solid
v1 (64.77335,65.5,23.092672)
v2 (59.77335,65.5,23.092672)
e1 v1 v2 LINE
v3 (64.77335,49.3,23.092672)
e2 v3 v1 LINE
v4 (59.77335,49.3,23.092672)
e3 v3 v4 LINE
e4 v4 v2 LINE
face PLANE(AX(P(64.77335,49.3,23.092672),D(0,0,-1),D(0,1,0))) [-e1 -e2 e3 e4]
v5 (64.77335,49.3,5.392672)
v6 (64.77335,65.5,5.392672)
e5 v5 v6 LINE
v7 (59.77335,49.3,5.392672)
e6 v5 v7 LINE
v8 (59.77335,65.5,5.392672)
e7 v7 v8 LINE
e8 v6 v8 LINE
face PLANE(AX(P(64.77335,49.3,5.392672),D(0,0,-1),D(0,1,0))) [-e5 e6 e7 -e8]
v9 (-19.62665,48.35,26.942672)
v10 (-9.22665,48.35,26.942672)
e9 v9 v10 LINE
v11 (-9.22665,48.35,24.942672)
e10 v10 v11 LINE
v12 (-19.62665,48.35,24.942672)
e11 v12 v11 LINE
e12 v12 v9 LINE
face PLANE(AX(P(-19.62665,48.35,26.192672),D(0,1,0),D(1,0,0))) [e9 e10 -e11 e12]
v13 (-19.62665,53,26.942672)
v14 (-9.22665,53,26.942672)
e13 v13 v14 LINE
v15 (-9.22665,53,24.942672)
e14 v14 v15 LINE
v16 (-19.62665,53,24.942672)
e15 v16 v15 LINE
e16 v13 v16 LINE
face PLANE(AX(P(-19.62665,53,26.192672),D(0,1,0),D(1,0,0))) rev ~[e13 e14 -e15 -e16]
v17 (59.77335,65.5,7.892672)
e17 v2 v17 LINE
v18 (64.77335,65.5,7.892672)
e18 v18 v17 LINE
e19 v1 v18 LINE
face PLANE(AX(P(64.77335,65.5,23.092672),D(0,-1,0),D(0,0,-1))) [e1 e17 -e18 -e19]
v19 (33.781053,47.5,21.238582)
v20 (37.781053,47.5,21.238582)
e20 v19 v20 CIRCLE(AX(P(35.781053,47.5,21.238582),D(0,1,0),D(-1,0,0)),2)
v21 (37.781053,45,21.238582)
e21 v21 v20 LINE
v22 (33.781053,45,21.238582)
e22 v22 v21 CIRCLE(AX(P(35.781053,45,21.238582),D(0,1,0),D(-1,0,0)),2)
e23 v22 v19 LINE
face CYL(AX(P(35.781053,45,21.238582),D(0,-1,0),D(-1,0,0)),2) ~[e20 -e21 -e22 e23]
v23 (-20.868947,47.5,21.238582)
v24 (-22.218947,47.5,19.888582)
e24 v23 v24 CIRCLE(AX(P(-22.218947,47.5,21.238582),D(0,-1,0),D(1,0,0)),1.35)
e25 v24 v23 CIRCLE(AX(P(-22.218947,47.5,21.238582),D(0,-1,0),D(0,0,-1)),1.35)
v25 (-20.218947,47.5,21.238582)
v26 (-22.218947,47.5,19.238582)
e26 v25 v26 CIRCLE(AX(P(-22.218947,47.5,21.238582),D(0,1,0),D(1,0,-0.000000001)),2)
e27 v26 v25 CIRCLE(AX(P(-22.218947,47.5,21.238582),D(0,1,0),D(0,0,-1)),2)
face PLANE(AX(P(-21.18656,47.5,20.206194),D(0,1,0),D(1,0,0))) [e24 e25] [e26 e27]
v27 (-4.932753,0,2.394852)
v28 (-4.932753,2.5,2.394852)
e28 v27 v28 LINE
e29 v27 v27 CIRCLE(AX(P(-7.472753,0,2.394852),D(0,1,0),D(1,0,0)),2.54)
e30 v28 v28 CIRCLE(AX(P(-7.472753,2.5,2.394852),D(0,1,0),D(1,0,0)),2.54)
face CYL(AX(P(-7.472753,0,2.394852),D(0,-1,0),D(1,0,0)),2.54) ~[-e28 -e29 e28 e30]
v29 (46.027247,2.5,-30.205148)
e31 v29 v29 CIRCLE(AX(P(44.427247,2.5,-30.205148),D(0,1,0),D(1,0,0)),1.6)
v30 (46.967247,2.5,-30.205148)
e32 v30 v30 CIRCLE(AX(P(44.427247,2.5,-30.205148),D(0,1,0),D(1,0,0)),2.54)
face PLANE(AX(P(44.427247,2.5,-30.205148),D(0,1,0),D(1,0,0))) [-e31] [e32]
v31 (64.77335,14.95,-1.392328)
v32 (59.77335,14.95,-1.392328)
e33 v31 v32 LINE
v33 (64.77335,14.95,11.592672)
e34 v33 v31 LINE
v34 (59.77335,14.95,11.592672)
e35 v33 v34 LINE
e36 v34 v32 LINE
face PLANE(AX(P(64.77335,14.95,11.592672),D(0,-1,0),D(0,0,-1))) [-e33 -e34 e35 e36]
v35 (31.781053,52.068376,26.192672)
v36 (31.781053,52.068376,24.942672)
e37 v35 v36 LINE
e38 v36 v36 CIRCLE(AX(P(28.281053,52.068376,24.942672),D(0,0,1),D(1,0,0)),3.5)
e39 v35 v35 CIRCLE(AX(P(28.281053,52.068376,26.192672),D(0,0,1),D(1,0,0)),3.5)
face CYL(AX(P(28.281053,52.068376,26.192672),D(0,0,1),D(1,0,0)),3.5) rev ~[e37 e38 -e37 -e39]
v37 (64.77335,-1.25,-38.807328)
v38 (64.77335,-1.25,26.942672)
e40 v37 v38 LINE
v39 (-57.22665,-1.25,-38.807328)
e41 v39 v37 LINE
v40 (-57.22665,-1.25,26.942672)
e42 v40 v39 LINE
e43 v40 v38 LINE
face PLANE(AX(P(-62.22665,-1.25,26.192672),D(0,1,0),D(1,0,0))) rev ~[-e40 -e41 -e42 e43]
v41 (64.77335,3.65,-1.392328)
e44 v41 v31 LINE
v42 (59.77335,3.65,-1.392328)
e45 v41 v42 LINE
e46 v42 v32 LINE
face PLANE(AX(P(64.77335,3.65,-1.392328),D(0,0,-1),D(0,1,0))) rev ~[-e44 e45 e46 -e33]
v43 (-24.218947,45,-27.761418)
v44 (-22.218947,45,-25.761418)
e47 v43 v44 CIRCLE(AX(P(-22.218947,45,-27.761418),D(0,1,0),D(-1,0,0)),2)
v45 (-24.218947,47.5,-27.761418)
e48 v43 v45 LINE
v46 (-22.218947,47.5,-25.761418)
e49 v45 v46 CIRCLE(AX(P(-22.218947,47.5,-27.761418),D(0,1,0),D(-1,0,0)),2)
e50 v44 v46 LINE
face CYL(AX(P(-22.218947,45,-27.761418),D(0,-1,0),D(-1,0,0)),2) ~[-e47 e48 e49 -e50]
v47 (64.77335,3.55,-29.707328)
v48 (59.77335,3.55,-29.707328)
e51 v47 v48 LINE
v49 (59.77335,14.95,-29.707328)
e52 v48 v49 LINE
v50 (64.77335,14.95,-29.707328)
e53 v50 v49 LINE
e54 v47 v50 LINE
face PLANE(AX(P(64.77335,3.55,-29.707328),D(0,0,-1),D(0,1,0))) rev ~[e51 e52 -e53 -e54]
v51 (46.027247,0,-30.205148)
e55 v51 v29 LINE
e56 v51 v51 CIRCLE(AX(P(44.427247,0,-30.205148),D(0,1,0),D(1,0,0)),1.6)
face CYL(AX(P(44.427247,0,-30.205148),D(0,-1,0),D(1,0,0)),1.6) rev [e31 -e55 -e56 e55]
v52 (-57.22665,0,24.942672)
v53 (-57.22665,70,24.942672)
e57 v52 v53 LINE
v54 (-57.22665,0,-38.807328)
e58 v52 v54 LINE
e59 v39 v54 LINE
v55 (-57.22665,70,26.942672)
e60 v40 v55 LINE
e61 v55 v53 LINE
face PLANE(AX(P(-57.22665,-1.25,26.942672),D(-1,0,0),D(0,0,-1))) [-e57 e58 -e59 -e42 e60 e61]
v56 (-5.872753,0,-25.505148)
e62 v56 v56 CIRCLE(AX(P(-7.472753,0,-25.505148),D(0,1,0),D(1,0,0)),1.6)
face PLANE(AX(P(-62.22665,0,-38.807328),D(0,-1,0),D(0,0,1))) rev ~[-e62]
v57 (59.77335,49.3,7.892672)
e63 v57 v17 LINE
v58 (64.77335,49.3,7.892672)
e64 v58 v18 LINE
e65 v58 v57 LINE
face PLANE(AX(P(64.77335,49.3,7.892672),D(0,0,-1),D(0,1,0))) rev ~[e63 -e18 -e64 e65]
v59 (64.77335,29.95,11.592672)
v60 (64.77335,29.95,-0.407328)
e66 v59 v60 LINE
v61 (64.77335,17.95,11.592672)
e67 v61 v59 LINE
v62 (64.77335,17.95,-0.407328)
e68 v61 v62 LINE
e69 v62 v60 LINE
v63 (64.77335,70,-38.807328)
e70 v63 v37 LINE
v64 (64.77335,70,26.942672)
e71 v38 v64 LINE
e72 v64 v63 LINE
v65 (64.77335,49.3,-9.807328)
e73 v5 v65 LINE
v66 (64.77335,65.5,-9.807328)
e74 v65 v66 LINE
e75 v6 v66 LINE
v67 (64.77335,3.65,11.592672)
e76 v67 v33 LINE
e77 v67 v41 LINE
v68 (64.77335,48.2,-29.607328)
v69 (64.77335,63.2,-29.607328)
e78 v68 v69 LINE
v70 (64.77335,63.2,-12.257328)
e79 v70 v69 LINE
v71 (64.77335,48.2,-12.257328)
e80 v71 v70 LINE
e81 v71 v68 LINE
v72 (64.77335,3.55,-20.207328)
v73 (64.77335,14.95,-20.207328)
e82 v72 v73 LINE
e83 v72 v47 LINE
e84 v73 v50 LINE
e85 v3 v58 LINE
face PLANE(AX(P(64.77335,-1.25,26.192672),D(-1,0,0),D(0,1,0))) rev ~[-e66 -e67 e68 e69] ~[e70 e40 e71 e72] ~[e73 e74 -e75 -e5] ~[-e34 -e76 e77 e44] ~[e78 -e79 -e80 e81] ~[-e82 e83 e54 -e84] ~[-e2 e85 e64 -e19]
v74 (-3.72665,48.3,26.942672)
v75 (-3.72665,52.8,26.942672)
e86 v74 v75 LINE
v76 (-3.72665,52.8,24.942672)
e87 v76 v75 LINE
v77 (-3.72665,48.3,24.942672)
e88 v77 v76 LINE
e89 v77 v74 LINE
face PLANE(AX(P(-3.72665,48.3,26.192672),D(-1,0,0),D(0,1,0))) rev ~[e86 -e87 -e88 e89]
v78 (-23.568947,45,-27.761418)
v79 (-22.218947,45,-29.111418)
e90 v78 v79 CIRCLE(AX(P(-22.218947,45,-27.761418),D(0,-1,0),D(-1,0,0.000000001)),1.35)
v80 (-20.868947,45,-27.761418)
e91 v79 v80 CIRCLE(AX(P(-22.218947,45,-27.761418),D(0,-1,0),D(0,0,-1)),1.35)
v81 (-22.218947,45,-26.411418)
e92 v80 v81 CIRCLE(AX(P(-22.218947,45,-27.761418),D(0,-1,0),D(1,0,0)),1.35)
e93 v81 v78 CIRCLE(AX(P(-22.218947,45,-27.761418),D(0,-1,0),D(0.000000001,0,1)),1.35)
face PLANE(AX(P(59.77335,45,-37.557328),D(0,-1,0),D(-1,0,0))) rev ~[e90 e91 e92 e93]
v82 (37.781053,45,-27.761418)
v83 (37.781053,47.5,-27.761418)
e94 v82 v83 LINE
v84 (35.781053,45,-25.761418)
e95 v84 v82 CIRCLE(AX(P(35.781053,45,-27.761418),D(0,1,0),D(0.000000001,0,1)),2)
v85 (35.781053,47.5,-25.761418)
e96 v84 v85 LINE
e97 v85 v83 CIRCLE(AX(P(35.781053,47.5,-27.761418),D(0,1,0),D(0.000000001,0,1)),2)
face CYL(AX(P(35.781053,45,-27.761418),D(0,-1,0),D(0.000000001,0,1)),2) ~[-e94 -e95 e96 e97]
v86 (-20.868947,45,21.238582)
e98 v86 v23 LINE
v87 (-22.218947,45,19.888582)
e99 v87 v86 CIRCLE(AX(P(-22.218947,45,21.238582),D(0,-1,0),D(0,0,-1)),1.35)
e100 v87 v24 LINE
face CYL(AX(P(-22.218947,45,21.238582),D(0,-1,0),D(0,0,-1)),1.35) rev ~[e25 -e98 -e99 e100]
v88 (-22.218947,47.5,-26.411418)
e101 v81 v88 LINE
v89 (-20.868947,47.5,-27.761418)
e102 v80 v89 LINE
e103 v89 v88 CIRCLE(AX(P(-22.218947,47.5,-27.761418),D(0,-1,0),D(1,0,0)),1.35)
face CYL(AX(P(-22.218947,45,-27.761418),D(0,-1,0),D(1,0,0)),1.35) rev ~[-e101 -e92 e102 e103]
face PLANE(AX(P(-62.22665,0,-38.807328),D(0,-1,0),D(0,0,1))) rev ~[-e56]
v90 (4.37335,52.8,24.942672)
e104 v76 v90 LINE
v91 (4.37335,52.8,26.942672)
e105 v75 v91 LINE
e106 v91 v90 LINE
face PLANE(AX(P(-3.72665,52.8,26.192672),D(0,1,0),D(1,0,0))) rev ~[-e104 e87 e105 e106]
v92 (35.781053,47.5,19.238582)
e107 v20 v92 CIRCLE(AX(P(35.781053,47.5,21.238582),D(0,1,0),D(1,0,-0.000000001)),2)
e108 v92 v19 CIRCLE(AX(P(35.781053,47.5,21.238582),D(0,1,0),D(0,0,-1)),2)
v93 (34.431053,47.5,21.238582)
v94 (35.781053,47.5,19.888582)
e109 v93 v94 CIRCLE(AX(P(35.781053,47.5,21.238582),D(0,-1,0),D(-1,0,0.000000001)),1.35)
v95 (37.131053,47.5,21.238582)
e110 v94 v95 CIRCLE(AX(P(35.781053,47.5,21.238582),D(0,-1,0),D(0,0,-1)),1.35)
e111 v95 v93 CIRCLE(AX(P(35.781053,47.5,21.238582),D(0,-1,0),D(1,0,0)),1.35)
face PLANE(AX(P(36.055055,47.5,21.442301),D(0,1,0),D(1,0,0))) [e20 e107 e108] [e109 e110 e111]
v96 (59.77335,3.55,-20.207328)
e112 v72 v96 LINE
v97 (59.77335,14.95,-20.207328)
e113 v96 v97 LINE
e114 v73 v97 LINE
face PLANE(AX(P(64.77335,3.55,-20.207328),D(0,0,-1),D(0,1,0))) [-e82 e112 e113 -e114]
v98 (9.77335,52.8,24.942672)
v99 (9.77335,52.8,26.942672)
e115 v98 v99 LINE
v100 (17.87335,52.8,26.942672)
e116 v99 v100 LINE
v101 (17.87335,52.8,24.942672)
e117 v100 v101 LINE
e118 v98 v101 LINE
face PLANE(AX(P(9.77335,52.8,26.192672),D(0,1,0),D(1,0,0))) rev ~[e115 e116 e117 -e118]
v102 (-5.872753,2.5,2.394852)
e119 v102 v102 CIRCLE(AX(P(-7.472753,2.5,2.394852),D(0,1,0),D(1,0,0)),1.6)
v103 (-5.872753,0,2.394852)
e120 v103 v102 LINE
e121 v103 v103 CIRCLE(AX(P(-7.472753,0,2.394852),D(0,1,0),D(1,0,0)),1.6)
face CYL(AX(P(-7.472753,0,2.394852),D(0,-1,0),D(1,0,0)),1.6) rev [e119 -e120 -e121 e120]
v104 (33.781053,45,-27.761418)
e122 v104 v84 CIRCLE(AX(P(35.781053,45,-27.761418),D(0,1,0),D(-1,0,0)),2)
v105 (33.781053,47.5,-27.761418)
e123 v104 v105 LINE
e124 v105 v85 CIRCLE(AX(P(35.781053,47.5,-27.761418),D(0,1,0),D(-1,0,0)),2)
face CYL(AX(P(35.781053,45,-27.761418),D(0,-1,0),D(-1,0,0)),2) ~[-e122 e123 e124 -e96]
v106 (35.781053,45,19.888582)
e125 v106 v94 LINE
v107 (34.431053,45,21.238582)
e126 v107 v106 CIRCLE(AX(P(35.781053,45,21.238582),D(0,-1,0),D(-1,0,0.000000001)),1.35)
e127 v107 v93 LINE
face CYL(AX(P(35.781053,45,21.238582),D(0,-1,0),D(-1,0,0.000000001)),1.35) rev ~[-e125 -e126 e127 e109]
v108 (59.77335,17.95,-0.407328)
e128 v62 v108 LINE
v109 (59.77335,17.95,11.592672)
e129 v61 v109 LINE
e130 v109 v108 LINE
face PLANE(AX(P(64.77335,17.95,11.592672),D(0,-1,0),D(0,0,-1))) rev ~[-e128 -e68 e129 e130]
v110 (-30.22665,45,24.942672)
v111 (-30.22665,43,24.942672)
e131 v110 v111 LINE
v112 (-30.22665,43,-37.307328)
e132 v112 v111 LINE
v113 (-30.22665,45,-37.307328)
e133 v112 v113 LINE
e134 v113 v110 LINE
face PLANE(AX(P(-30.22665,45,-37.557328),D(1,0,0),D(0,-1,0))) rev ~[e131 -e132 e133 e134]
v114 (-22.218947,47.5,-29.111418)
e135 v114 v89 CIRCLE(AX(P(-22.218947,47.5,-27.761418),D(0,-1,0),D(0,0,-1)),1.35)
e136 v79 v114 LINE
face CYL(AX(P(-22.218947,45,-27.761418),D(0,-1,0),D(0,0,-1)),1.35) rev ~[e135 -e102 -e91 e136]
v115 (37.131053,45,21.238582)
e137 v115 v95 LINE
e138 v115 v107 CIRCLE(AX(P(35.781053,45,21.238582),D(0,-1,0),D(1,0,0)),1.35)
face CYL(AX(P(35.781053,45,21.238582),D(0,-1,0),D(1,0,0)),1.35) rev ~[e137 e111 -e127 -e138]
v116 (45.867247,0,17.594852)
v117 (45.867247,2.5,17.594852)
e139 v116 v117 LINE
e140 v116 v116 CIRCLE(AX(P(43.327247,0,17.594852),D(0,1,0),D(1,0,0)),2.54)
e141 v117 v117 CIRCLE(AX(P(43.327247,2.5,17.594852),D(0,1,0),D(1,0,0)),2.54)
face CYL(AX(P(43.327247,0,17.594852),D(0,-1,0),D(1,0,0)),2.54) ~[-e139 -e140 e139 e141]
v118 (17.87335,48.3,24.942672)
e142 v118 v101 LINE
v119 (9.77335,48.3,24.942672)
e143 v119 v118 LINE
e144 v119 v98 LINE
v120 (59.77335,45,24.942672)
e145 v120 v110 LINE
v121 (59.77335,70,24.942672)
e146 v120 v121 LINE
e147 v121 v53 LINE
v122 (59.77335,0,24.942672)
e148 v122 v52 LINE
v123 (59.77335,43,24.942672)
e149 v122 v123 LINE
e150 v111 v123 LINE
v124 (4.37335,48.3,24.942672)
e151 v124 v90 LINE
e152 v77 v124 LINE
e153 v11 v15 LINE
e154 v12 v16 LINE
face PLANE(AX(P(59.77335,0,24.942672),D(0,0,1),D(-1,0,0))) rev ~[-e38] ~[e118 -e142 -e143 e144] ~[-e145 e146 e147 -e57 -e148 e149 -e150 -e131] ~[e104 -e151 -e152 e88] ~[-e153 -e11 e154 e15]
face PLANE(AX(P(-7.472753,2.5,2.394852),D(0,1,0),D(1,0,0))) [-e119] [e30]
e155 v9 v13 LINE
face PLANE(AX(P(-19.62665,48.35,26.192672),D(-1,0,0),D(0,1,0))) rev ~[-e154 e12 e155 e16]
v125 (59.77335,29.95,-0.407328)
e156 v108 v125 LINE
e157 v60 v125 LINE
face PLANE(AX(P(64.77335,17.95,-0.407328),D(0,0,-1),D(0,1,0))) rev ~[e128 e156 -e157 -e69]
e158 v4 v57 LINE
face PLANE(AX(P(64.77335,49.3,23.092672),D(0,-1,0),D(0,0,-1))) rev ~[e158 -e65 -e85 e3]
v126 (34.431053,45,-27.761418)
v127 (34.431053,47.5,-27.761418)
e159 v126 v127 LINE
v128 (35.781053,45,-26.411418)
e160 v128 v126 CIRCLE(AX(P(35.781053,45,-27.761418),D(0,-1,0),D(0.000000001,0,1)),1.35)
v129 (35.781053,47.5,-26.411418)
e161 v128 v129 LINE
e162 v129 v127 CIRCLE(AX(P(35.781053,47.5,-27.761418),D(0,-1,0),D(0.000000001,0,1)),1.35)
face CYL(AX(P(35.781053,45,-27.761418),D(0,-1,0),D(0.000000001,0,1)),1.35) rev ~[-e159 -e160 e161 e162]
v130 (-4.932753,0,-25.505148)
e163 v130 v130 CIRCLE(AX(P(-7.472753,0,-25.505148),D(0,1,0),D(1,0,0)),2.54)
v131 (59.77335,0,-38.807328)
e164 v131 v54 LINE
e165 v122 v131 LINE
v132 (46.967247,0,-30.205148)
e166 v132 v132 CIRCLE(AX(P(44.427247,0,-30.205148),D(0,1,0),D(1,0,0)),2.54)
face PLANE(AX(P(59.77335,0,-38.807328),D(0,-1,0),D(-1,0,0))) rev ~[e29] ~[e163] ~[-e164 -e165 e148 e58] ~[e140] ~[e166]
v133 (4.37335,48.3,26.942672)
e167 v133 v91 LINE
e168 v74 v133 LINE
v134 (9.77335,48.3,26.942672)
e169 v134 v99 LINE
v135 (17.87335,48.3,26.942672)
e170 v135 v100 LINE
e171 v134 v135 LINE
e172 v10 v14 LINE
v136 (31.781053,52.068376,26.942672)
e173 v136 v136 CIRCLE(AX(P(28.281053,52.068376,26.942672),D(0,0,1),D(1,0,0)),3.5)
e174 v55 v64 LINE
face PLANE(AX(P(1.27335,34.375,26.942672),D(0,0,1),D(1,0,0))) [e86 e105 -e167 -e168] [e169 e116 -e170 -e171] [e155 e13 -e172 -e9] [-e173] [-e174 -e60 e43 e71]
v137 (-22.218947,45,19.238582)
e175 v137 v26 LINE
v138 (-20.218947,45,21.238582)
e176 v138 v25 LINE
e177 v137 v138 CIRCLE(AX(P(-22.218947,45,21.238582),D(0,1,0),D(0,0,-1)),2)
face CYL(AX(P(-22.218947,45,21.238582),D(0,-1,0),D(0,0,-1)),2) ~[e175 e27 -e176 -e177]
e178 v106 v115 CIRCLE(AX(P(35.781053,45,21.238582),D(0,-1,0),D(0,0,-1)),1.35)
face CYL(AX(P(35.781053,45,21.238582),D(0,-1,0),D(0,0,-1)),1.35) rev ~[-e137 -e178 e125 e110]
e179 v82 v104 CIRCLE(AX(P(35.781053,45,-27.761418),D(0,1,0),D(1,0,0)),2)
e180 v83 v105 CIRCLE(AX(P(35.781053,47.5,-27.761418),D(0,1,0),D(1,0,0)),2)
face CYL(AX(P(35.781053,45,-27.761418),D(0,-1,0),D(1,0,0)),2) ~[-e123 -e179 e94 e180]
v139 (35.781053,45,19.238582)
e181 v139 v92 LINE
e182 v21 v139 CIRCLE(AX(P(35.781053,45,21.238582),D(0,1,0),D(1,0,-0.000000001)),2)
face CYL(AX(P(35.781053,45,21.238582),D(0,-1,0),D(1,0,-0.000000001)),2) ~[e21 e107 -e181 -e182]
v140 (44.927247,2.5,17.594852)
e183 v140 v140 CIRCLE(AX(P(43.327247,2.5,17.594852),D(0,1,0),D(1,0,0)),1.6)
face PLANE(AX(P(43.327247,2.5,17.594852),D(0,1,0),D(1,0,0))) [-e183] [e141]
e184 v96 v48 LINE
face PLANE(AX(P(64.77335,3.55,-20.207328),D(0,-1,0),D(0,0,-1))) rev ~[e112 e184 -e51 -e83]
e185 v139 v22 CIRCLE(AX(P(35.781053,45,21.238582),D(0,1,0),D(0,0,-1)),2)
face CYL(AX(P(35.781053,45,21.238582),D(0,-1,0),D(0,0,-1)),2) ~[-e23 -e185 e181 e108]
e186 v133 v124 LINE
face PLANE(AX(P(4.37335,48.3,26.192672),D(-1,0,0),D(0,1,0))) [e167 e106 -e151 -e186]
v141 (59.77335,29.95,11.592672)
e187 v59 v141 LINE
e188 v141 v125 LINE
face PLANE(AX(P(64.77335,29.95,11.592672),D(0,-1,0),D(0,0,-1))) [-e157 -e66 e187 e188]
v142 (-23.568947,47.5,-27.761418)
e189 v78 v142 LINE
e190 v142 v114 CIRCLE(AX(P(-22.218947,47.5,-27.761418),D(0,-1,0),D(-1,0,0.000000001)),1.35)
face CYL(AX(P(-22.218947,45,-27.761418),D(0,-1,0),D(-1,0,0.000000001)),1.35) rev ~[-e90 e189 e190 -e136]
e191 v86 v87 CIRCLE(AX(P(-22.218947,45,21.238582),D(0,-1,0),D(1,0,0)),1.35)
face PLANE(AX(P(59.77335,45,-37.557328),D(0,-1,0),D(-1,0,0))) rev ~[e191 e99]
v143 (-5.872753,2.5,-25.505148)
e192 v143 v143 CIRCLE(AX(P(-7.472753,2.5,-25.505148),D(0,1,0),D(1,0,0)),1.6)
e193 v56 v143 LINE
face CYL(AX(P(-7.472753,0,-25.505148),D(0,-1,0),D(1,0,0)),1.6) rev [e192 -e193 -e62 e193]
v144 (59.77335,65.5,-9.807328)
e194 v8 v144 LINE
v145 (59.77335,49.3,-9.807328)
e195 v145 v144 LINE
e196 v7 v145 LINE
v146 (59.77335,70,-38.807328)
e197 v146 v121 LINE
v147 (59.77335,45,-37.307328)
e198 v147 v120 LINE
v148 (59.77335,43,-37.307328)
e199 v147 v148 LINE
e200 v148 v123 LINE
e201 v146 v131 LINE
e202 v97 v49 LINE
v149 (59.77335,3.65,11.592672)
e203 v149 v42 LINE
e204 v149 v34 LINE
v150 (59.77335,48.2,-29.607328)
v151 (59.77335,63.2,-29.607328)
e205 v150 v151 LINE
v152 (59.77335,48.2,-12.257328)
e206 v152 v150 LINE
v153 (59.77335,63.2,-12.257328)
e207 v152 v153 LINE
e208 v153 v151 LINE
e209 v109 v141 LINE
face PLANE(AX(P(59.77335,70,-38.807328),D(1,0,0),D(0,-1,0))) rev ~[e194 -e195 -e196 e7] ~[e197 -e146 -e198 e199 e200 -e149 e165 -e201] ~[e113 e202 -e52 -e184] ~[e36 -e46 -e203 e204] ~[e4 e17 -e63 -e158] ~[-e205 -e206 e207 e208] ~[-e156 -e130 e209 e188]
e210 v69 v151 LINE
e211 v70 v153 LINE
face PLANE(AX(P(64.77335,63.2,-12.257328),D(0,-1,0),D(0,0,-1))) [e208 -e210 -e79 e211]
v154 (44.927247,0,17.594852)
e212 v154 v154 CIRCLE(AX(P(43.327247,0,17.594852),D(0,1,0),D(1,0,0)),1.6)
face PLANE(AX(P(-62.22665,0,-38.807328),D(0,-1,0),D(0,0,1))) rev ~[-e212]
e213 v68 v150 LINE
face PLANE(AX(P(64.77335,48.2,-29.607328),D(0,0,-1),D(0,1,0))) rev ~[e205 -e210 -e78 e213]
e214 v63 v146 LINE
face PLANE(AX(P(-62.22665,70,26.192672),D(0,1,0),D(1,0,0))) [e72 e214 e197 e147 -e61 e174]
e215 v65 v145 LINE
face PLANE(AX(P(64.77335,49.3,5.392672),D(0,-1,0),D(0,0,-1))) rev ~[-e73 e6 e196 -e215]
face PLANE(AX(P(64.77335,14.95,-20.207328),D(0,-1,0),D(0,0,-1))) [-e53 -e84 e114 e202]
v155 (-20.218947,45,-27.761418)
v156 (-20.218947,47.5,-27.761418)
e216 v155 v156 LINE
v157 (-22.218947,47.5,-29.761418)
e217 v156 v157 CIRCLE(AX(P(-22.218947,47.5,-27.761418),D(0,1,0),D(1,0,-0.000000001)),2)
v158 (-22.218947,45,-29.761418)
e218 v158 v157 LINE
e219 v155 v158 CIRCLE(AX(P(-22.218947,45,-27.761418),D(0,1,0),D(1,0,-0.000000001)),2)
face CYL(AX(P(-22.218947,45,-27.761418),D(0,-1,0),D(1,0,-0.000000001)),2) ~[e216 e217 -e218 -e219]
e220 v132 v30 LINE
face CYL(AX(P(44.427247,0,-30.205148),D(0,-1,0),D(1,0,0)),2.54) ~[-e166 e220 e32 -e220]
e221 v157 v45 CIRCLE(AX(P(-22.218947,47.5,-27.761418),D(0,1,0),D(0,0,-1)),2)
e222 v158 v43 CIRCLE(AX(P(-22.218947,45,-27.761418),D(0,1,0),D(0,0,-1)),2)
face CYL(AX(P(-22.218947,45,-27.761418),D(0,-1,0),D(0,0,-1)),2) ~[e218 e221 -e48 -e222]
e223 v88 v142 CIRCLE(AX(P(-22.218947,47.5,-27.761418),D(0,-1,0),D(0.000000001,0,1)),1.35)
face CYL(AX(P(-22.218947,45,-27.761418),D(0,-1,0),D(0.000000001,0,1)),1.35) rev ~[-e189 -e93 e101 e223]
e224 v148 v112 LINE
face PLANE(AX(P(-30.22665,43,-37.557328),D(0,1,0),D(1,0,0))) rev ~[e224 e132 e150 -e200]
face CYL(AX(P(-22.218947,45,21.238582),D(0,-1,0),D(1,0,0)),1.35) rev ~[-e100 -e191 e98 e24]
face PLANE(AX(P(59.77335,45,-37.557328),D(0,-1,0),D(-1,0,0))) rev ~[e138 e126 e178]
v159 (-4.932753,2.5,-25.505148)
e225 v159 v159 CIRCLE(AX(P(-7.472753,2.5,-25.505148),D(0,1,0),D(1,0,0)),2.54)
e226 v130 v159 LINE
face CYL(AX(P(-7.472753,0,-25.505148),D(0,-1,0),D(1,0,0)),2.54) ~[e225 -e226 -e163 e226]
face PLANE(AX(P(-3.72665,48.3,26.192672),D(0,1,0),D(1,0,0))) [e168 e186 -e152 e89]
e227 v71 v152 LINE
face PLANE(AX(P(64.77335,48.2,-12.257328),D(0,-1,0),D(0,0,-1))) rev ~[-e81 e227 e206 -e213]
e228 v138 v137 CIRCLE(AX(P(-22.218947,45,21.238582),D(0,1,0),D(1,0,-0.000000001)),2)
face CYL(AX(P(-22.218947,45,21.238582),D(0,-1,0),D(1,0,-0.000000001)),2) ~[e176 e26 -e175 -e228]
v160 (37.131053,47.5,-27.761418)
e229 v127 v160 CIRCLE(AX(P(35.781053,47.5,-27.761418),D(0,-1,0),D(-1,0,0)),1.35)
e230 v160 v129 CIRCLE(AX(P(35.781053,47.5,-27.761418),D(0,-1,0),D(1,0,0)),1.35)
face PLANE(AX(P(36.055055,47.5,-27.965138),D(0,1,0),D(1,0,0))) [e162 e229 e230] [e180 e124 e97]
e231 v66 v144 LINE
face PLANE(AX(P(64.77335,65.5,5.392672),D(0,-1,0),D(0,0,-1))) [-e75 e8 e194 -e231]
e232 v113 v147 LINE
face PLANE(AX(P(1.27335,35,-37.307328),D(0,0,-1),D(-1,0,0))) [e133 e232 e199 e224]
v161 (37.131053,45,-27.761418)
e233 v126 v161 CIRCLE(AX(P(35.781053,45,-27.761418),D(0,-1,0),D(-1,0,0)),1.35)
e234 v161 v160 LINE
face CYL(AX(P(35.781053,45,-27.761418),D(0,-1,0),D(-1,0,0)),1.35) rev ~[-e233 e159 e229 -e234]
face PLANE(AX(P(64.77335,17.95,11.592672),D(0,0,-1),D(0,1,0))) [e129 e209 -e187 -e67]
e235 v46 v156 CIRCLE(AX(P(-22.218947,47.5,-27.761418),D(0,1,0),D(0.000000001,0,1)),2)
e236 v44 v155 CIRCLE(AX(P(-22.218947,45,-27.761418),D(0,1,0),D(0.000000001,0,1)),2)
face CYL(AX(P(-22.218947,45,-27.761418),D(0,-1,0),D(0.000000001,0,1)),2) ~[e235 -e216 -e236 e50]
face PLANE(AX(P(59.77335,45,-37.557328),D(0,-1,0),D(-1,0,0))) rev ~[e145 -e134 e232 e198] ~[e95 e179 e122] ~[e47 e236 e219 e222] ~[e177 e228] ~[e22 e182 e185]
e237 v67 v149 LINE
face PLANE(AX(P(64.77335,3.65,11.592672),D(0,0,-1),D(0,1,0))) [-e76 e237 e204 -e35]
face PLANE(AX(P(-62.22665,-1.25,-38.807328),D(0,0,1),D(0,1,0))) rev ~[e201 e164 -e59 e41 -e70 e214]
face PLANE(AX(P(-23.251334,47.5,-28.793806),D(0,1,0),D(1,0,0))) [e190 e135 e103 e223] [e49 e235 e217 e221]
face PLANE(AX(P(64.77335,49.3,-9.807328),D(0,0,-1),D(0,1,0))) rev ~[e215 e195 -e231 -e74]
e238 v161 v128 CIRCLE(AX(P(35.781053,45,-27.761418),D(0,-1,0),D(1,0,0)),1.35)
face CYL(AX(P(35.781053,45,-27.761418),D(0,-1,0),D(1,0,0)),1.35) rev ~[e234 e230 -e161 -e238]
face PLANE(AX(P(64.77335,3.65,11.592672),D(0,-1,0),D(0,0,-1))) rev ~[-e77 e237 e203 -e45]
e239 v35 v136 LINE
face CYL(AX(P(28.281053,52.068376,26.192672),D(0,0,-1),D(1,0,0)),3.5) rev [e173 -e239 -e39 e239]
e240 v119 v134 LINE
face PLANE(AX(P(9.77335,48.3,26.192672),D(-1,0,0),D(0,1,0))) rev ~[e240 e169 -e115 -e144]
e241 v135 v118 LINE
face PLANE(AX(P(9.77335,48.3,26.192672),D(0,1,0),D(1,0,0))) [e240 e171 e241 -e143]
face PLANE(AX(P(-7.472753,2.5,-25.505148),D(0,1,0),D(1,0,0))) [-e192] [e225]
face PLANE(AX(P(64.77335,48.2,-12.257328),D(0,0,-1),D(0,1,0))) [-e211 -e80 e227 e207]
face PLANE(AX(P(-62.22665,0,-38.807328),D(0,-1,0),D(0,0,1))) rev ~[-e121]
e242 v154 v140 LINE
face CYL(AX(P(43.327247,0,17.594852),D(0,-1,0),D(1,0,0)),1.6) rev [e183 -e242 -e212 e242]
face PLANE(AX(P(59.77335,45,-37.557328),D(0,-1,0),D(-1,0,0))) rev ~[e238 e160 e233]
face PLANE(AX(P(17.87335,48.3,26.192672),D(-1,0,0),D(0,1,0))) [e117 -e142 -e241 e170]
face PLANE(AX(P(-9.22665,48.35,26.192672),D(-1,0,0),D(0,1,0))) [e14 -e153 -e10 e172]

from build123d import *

# Parameters (mm, degrees)
MAIN_BODY_DEPTH                = 70
FAN_MOUNTS_DEPTH               = 5
SKETCH6_R                      = 30
FAN_HOLE_DEPTH                 = 5
SKETCH7_W                      = 65
SKETCH7_H                      = 1.25
BOTTOM_PLATE_DEPTH             = 127
SKETCH1_3_R                    = 2.54
SKETCH1_3_R_2                  = 1.6
ARDUINO_MOUNT_1_DEPTH          = 2.5
SKETCH1_4_R                    = 2.54
SKETCH1_4_R_2                  = 1.6
ARDUINO_MOUNT_2_DEPTH          = 2.5
SKETCH1_5_R                    = 2.54
SKETCH1_5_R_2                  = 1.6
ARDUINO_MOUNT_3_DEPTH          = 2.5
SKETCH1_6_R                    = 2.54
SKETCH1_6_R_2                  = 1.6
ARDUINO_MOUNT_4_DEPTH          = 2.5
SKETCH9_W                      = 12.985
SKETCH9_H                      = 11.3
ARDUINO_USB_B_DEPTH            = 5
SKETCH12_W                     = 9.5
SKETCH12_H                     = 11.4
ARDUION_POWER_HOLE_DEPTH       = 5
SKETCH28_W                     = 12
SKETCH28_H                     = 12
READER_COAX_DEPTH              = 5
SEPARATING_PLATE_DEPTH         = 62.5
PI_SEATS_DEPTH                 = 2.5
SKETCH14_W                     = 17.35
SKETCH14_H                     = 15
PI_ETHERNET_DEPTH              = 5
SKETCH16_W                     = 15.2
SKETCH16_H                     = 16.2
PI_USB_3_0_DEPTH               = 5
SKETCH18_W                     = 15.2
SKETCH18_H                     = 16.2
PI_USB_2_0_DEPTH               = 5
SKETCH19_R                     = 3.5
PI_AUDIO_PORT_DEPTH            = 2
SKETCH20_W                     = 8.1
SKETCH20_H                     = 4.5
PI_MICRO_HDMI_RIGHT_DEPTH      = 2
SKETCH21_W                     = 8.1
SKETCH21_H                     = 4.5
PI_MICRO_HDMI_LEFT_DEPTH       = 2
SKETCH22_W                     = 10.4
SKETCH22_H                     = 4.65
PI_USB_C_DEPTH                 = 2
SIDE_PANEL_OUT_DEPTH           = 1.5
SKETCH27_W                     = 127
SKETCH27_H                     = 71.25
SKETCH27_R                     = 3.5
SKETCH27_W_2                   = 8.1
SKETCH27_H_2                   = 4.5
SKETCH27_W_3                   = 10.4
SKETCH27_H_3                   = 4.65
MAKING_I_O_PANEL_THICKER_DEPTH = 0.75
REMOVE_START                   = -71.25
SKETCH35_W                     = 5
SKETCH35_H                     = 65.75
REMOVE_FAN_DEPTH               = 71.25


with BuildPart() as part:
    # Sketch1 → main body (new body)
    with BuildSketch(Plane(origin=(0, 0, 0), x_dir=(1, 0, 0), z_dir=(0, 1, 0))):
        Polygon((-46.184210526, 37.557328438), (-46.184210526, 38.807328438), (-62.226649752, 38.807328438), (-62.226649752, 31.576979723), (-57.226649752, 31.576979723), (-57.226649752, 37.557328438), align=None)
        Polygon((64.773350248, 38.807328438), (-46.184210526, 38.807328438), (-46.184210526, 37.557328438), (59.773350248, 37.557328438), (59.773350248, -24.942671562), (-57.226649752, -24.942671562), (-57.226649752, 31.576979723), (-62.226649752, 31.576979723), (-62.226649752, -26.192671562), (64.773350248, -26.192671562), align=None)
    extrude(amount=MAIN_BODY_DEPTH)

    # Sketch25 → fan mounts (cut)
    with BuildSketch(Plane.ZY.offset(62.226649752)):
        with BuildLine():
            Line((-31.333787438, 60), (-31.333787438, 62.15))
            ThreePointArc((-31.333787438, 62.15), (-32.854067018, 61.52027958), (-33.483787438, 60))
            Line((-33.483787438, 60), (-31.333787438, 60))
        make_face()
        with BuildLine():
            Line((-31.333787438, 57.85), (-31.333787438, 60))
            Line((-31.333787438, 60), (-33.483787438, 60))
            ThreePointArc((-33.483787438, 60), (-32.854067018, 58.47972042), (-31.333787438, 57.85))
        make_face()
        with BuildLine():
            Line((-29.183787438, 60), (-31.333787438, 60))
            Line((-31.333787438, 60), (-31.333787438, 57.85))
            ThreePointArc((-31.333787438, 57.85), (-29.813507858, 58.47972042), (-29.183787438, 60))
        make_face()
        with BuildLine():
            ThreePointArc((-29.183787438, 60), (-29.813507858, 61.52027958), (-31.333787438, 62.15))
            Line((-31.333787438, 62.15), (-31.333787438, 60))
            Line((-31.333787438, 60), (-29.183787438, 60))
        make_face()
        with BuildLine():
            ThreePointArc((-29.183787438, 10), (-29.813507858, 11.52027958), (-31.333787438, 12.15))
            Line((-31.333787438, 12.15), (-31.333787438, 10))
            Line((-31.333787438, 10), (-29.183787438, 10))
        make_face()
        with BuildLine():
            Line((-31.333787438, 10), (-31.333787438, 12.15))
            ThreePointArc((-31.333787438, 12.15), (-32.854067018, 8.47972042), (-29.183787438, 10))
            Line((-29.183787438, 10), (-31.333787438, 10))
        make_face()
        with BuildLine():
            ThreePointArc((20.816212562, 10), (20.186492142, 11.52027958), (18.666212562, 12.15))
            Line((18.666212562, 12.15), (18.666212562, 10))
            Line((18.666212562, 10), (16.516212562, 10))
            ThreePointArc((16.516212562, 10), (18.666212562, 7.85), (20.816212562, 10))
        make_face()
        with BuildLine():
            Line((18.666212562, 10), (18.666212562, 12.15))
            ThreePointArc((18.666212562, 12.15), (17.145932982, 11.52027958), (16.516212562, 10))
            Line((16.516212562, 10), (18.666212562, 10))
        make_face()
        with BuildLine():
            ThreePointArc((20.816212562, 60), (18.666212562, 62.15), (16.516212562, 60))
            Line((16.516212562, 60), (18.666212562, 60))
            Line((18.666212562, 60), (18.666212562, 57.85))
            ThreePointArc((18.666212562, 57.85), (20.186492142, 58.47972042), (20.816212562, 60))
        make_face()
        with BuildLine():
            Line((18.666212562, 60), (16.516212562, 60))
            ThreePointArc((16.516212562, 60), (17.145932982, 58.47972042), (18.666212562, 57.85))
            Line((18.666212562, 57.85), (18.666212562, 60))
        make_face()
    extrude(amount=-FAN_MOUNTS_DEPTH, mode=Mode.SUBTRACT)

    # Sketch6 → fan hole (cut)
    with BuildSketch(Plane.ZY.offset(62.226649752)):
        with Locations((-6.307328438, 34.968)):
            Circle(SKETCH6_R)
    extrude(amount=-FAN_HOLE_DEPTH, mode=Mode.SUBTRACT)

    # Sketch7 → bottom plate (add)
    with BuildSketch(Plane.ZY.offset(62.226649752)):
        with Locations((-6.307328438, -0.625)):
            Rectangle(SKETCH7_W, SKETCH7_H)
    extrude(amount=-BOTTOM_PLATE_DEPTH)

    # Sketch1<3> → arduino mount 1 (add)
    with BuildSketch(Plane(origin=(0, 0, 0), x_dir=(1, 0, 0), z_dir=(0, 1, 0))):
        with Locations((-7.472752953, 25.505147863)):
            Circle(SKETCH1_3_R)
        with Locations((-7.472752953, 25.505147863)):
            Circle(SKETCH1_3_R_2, mode=Mode.SUBTRACT)
    extrude(amount=ARDUINO_MOUNT_1_DEPTH)

    # Sketch1<4> → arduino mount 2 (add)
    with BuildSketch(Plane(origin=(0, 0, 0), x_dir=(1, 0, 0), z_dir=(0, 1, 0))):
        with Locations((-7.472752953, -2.394852137)):
            Circle(SKETCH1_4_R)
        with Locations((-7.472752953, -2.394852137)):
            Circle(SKETCH1_4_R_2, mode=Mode.SUBTRACT)
    extrude(amount=ARDUINO_MOUNT_2_DEPTH)

    # Sketch1<5> → arduino mount 3 (add)
    with BuildSketch(Plane(origin=(0, 0, 0), x_dir=(1, 0, 0), z_dir=(0, 1, 0))):
        with Locations((44.427247047, 30.205147863)):
            Circle(SKETCH1_5_R)
        with Locations((44.427247047, 30.205147863)):
            Circle(SKETCH1_5_R_2, mode=Mode.SUBTRACT)
    extrude(amount=ARDUINO_MOUNT_3_DEPTH)

    # Sketch1<6> → arduino mount 4 (add)
    with BuildSketch(Plane(origin=(0, 0, 0), x_dir=(1, 0, 0), z_dir=(0, 1, 0))):
        with Locations((43.327247047, -17.594852137)):
            Circle(SKETCH1_6_R)
        with Locations((43.327247047, -17.594852137)):
            Circle(SKETCH1_6_R_2, mode=Mode.SUBTRACT)
    extrude(amount=ARDUINO_MOUNT_4_DEPTH)

    # Sketch9 → arduino usb b (cut)
    with BuildSketch(Plane(origin=(64.773350248, 0, 0), x_dir=(0, 0, -1), z_dir=(1, 0, 0))):
        with Locations((-5.100171562, 9.3)):
            Rectangle(SKETCH9_W, SKETCH9_H)
    extrude(amount=-ARDUINO_USB_B_DEPTH, mode=Mode.SUBTRACT)

    # Sketch12 → arduion power hole (cut)
    with BuildSketch(Plane(origin=(64.773350248, 0, 0), x_dir=(0, 0, -1), z_dir=(1, 0, 0))):
        with Locations((24.957328438, 9.25)):
            Rectangle(SKETCH12_W, SKETCH12_H)
    extrude(amount=-ARDUION_POWER_HOLE_DEPTH, mode=Mode.SUBTRACT)

    # Sketch28 → reader coax (cut)
    with BuildSketch(Plane(origin=(64.773350248, 0, 0), x_dir=(0, 0, -1), z_dir=(1, 0, 0))):
        with Locations((-5.592671562, 23.95)):
            Rectangle(SKETCH28_W, SKETCH28_H)
    extrude(amount=-READER_COAX_DEPTH, mode=Mode.SUBTRACT)

    # clearance → separating plate (add)
    with BuildSketch(Plane.XY.offset(-37.557328438)):
        Polygon((21.752865488, 43), (59.773350248, 43), (59.773350248, 45), (-30.226649752, 45), (-30.226649752, 43), align=None)
    extrude(amount=SEPARATING_PLATE_DEPTH)

    # Sketch24 → pi seats (add)
    with BuildSketch(Plane(origin=(0, 45, 0), x_dir=(1, 0, 0), z_dir=(0, 1, 0))):
        with BuildLine():
            Line((-22.218946752, 29.111418438), (-22.218946752, 29.761418438))
            ThreePointArc((-22.218946752, 29.761418438), (-23.633160315, 29.175632), (-24.218946752, 27.761418438))
            Line((-24.218946752, 27.761418438), (-23.568946752, 27.761418438))
            ThreePointArc((-23.568946752, 27.761418438), (-23.173540907, 28.716012593), (-22.218946752, 29.111418438))
        make_face()
        with BuildLine():
            ThreePointArc((-20.218946752, 27.761418438), (-20.80473319, 29.175632), (-22.218946752, 29.761418438))
            Line((-22.218946752, 29.761418438), (-22.218946752, 29.111418438))
            ThreePointArc((-22.218946752, 29.111418438), (-21.264352598, 28.716012593), (-20.868946752, 27.761418438))
            Line((-20.868946752, 27.761418438), (-20.218946752, 27.761418438))
        make_face()
        with BuildLine():
            ThreePointArc((-22.218946752, 25.761418438), (-20.80473319, 26.347204876), (-20.218946752, 27.761418438))
            Line((-20.218946752, 27.761418438), (-20.868946752, 27.761418438))
            ThreePointArc((-20.868946752, 27.761418438), (-21.264352598, 26.806824283), (-22.218946752, 26.411418438))
            Line((-22.218946752, 26.411418438), (-22.218946752, 25.761418438))
        make_face()
        with BuildLine():
            Line((-23.568946752, 27.761418438), (-24.218946752, 27.761418438))
            ThreePointArc((-24.218946752, 27.761418438), (-23.633160315, 26.347204876), (-22.218946752, 25.761418438))
            Line((-22.218946752, 25.761418438), (-22.218946752, 26.411418438))
            ThreePointArc((-22.218946752, 26.411418438), (-23.173540907, 26.806824283), (-23.568946752, 27.761418438))
        make_face()
        with BuildLine():
            ThreePointArc((-20.218946752, -21.238581562), (-20.80473319, -19.824368), (-22.218946752, -19.238581562))
            Line((-22.218946752, -19.238581562), (-22.218946752, -19.888581562))
            ThreePointArc((-22.218946752, -19.888581562), (-21.264352598, -20.283987407), (-20.868946752, -21.238581562))
            Line((-20.868946752, -21.238581562), (-20.218946752, -21.238581562))
        make_face()
        with BuildLine():
            Line((-22.218946752, -19.888581562), (-22.218946752, -19.238581562))
            ThreePointArc((-22.218946752, -19.238581562), (-23.633160315, -22.652795124), (-20.218946752, -21.238581562))
            Line((-20.218946752, -21.238581562), (-20.868946752, -21.238581562))
            ThreePointArc((-20.868946752, -21.238581562), (-23.173540907, -22.193175717), (-22.218946752, -19.888581562))
        make_face()
        with BuildLine():
            ThreePointArc((37.781053248, 27.761418438), (35.781053248, 29.761418438), (33.781053248, 27.761418438))
            Line((33.781053248, 27.761418438), (34.431053248, 27.761418438))
            ThreePointArc((34.431053248, 27.761418438), (35.781053248, 29.111418438), (37.131053248, 27.761418438))
            ThreePointArc((37.131053248, 27.761418438), (36.735647402, 26.806824283), (35.781053248, 26.411418438))
            Line((35.781053248, 26.411418438), (35.781053248, 25.761418438))
            ThreePointArc((35.781053248, 25.761418438), (37.19526681, 26.347204876), (37.781053248, 27.761418438))
        make_face()
        with BuildLine():
            Line((34.431053248, 27.761418438), (33.781053248, 27.761418438))
            ThreePointArc((33.781053248, 27.761418438), (34.366839685, 26.347204876), (35.781053248, 25.761418438))
            Line((35.781053248, 25.761418438), (35.781053248, 26.411418438))
            ThreePointArc((35.781053248, 26.411418438), (34.826459093, 26.806824283), (34.431053248, 27.761418438))
        make_face()
        with BuildLine():
            ThreePointArc((37.781053248, -21.238581562), (37.19526681, -19.824368), (35.781053248, -19.238581562))
            Line((35.781053248, -19.238581562), (35.781053248, -19.888581562))
            ThreePointArc((35.781053248, -19.888581562), (36.735647402, -20.283987407), (37.131053248, -21.238581562))
            ThreePointArc((37.131053248, -21.238581562), (35.781053248, -22.588581562), (34.431053248, -21.238581562))
            Line((34.431053248, -21.238581562), (33.781053248, -21.238581562))
            ThreePointArc((33.781053248, -21.238581562), (35.781053248, -23.238581562), (37.781053248, -21.238581562))
        make_face()
        with BuildLine():
            Line((35.781053248, -19.888581562), (35.781053248, -19.238581562))
            ThreePointArc((35.781053248, -19.238581562), (34.366839685, -19.824368), (33.781053248, -21.238581562))
            Line((33.781053248, -21.238581562), (34.431053248, -21.238581562))
            ThreePointArc((34.431053248, -21.238581562), (34.826459093, -20.283987407), (35.781053248, -19.888581562))
        make_face()
    extrude(amount=PI_SEATS_DEPTH)

    # Sketch14 → pi ethernet (cut)
    with BuildSketch(Plane(origin=(64.773350248, 0, 0), x_dir=(0, 0, -1), z_dir=(1, 0, 0))):
        with Locations((20.932328438, 55.7)):
            Rectangle(SKETCH14_W, SKETCH14_H)
    extrude(amount=-PI_ETHERNET_DEPTH, mode=Mode.SUBTRACT)

    # Sketch16 → pi usb 3.0 (cut)
    with BuildSketch(Plane(origin=(64.773350248, 0, 0), x_dir=(0, 0, -1), z_dir=(1, 0, 0))):
        with Locations((2.207328438, 57.4)):
            Rectangle(SKETCH16_W, SKETCH16_H)
    extrude(amount=-PI_USB_3_0_DEPTH, mode=Mode.SUBTRACT)

    # Sketch18 → pi usb 2.0 (cut)
    with BuildSketch(Plane(origin=(64.773350248, 0, 0), x_dir=(0, 0, -1), z_dir=(1, 0, 0))):
        with Locations((-15.492671562, 57.4)):
            Rectangle(SKETCH18_W, SKETCH18_H)
    extrude(amount=-PI_USB_2_0_DEPTH, mode=Mode.SUBTRACT)

    # Sketch19 → pi audio port (cut)
    with BuildSketch(Plane.XY.offset(26.192671562)):
        with Locations((28.281053248, 52.068376)):
            Circle(SKETCH19_R)
    extrude(amount=-PI_AUDIO_PORT_DEPTH, mode=Mode.SUBTRACT)

    # Sketch20 → pi micro hdmi right (cut)
    with BuildSketch(Plane.XY.offset(26.192671562)):
        with Locations((13.823350248, 50.55)):
            Rectangle(SKETCH20_W, SKETCH20_H)
    extrude(amount=-PI_MICRO_HDMI_RIGHT_DEPTH, mode=Mode.SUBTRACT)

    # Sketch21 → pi micro hdmi left (cut)
    with BuildSketch(Plane.XY.offset(26.192671562)):
        with Locations((0.323350248, 50.55)):
            Rectangle(SKETCH21_W, SKETCH21_H)
    extrude(amount=-PI_MICRO_HDMI_LEFT_DEPTH, mode=Mode.SUBTRACT)

    # Sketch22 → pi usb c (cut)
    with BuildSketch(Plane.XY.offset(26.192671562)):
        with Locations((-14.426649752, 50.675)):
            Rectangle(SKETCH22_W, SKETCH22_H)
    extrude(amount=-PI_USB_C_DEPTH, mode=Mode.SUBTRACT)

    # Sketch26 → side panel out (cut)
    with BuildSketch(Plane(origin=(0, 0, -38.807328438), x_dir=(-1, 0, 0), z_dir=(0, 0, -1))):
        Polygon((57.226649752, 70), (-59.773350248, 70), (-59.773350248, 52.362121809), (-59.773350248, 0), (-23.880559262, 0), (57.226649752, 0), (57.226649752, 48.247981632), align=None)
    extrude(amount=-SIDE_PANEL_OUT_DEPTH, mode=Mode.SUBTRACT)

    # Sketch27 → making i/o panel thicker (add)
    with BuildSketch(Plane.XY.offset(26.192671562)):
        with Locations((1.273350248, 34.375)):
            Rectangle(SKETCH27_W, SKETCH27_H)
        with Locations((28.281053248, 52.068376)):
            Circle(SKETCH27_R, mode=Mode.SUBTRACT)
        with Locations((13.823350248, 50.55)):
            Rectangle(SKETCH27_W_2, SKETCH27_H_2, mode=Mode.SUBTRACT)
        with Locations((0.323350248, 50.55)):
            Rectangle(SKETCH27_W_2, SKETCH27_H_2, mode=Mode.SUBTRACT)
        with Locations((-14.426649752, 50.675)):
            Rectangle(SKETCH27_W_3, SKETCH27_H_3, mode=Mode.SUBTRACT)
    extrude(amount=MAKING_I_O_PANEL_THICKER_DEPTH)

    # Sketch35 → remove fan (cut)
    with BuildSketch(Plane(origin=(0, 70, 0), x_dir=(1, 0, 0), z_dir=(0, 1, 0)).offset(REMOVE_START)):
        with Locations((-59.726649752, 5.932328438)):
            Rectangle(SKETCH35_W, SKETCH35_H)
    extrude(amount=REMOVE_FAN_DEPTH, mode=Mode.SUBTRACT)


solid = part.part
